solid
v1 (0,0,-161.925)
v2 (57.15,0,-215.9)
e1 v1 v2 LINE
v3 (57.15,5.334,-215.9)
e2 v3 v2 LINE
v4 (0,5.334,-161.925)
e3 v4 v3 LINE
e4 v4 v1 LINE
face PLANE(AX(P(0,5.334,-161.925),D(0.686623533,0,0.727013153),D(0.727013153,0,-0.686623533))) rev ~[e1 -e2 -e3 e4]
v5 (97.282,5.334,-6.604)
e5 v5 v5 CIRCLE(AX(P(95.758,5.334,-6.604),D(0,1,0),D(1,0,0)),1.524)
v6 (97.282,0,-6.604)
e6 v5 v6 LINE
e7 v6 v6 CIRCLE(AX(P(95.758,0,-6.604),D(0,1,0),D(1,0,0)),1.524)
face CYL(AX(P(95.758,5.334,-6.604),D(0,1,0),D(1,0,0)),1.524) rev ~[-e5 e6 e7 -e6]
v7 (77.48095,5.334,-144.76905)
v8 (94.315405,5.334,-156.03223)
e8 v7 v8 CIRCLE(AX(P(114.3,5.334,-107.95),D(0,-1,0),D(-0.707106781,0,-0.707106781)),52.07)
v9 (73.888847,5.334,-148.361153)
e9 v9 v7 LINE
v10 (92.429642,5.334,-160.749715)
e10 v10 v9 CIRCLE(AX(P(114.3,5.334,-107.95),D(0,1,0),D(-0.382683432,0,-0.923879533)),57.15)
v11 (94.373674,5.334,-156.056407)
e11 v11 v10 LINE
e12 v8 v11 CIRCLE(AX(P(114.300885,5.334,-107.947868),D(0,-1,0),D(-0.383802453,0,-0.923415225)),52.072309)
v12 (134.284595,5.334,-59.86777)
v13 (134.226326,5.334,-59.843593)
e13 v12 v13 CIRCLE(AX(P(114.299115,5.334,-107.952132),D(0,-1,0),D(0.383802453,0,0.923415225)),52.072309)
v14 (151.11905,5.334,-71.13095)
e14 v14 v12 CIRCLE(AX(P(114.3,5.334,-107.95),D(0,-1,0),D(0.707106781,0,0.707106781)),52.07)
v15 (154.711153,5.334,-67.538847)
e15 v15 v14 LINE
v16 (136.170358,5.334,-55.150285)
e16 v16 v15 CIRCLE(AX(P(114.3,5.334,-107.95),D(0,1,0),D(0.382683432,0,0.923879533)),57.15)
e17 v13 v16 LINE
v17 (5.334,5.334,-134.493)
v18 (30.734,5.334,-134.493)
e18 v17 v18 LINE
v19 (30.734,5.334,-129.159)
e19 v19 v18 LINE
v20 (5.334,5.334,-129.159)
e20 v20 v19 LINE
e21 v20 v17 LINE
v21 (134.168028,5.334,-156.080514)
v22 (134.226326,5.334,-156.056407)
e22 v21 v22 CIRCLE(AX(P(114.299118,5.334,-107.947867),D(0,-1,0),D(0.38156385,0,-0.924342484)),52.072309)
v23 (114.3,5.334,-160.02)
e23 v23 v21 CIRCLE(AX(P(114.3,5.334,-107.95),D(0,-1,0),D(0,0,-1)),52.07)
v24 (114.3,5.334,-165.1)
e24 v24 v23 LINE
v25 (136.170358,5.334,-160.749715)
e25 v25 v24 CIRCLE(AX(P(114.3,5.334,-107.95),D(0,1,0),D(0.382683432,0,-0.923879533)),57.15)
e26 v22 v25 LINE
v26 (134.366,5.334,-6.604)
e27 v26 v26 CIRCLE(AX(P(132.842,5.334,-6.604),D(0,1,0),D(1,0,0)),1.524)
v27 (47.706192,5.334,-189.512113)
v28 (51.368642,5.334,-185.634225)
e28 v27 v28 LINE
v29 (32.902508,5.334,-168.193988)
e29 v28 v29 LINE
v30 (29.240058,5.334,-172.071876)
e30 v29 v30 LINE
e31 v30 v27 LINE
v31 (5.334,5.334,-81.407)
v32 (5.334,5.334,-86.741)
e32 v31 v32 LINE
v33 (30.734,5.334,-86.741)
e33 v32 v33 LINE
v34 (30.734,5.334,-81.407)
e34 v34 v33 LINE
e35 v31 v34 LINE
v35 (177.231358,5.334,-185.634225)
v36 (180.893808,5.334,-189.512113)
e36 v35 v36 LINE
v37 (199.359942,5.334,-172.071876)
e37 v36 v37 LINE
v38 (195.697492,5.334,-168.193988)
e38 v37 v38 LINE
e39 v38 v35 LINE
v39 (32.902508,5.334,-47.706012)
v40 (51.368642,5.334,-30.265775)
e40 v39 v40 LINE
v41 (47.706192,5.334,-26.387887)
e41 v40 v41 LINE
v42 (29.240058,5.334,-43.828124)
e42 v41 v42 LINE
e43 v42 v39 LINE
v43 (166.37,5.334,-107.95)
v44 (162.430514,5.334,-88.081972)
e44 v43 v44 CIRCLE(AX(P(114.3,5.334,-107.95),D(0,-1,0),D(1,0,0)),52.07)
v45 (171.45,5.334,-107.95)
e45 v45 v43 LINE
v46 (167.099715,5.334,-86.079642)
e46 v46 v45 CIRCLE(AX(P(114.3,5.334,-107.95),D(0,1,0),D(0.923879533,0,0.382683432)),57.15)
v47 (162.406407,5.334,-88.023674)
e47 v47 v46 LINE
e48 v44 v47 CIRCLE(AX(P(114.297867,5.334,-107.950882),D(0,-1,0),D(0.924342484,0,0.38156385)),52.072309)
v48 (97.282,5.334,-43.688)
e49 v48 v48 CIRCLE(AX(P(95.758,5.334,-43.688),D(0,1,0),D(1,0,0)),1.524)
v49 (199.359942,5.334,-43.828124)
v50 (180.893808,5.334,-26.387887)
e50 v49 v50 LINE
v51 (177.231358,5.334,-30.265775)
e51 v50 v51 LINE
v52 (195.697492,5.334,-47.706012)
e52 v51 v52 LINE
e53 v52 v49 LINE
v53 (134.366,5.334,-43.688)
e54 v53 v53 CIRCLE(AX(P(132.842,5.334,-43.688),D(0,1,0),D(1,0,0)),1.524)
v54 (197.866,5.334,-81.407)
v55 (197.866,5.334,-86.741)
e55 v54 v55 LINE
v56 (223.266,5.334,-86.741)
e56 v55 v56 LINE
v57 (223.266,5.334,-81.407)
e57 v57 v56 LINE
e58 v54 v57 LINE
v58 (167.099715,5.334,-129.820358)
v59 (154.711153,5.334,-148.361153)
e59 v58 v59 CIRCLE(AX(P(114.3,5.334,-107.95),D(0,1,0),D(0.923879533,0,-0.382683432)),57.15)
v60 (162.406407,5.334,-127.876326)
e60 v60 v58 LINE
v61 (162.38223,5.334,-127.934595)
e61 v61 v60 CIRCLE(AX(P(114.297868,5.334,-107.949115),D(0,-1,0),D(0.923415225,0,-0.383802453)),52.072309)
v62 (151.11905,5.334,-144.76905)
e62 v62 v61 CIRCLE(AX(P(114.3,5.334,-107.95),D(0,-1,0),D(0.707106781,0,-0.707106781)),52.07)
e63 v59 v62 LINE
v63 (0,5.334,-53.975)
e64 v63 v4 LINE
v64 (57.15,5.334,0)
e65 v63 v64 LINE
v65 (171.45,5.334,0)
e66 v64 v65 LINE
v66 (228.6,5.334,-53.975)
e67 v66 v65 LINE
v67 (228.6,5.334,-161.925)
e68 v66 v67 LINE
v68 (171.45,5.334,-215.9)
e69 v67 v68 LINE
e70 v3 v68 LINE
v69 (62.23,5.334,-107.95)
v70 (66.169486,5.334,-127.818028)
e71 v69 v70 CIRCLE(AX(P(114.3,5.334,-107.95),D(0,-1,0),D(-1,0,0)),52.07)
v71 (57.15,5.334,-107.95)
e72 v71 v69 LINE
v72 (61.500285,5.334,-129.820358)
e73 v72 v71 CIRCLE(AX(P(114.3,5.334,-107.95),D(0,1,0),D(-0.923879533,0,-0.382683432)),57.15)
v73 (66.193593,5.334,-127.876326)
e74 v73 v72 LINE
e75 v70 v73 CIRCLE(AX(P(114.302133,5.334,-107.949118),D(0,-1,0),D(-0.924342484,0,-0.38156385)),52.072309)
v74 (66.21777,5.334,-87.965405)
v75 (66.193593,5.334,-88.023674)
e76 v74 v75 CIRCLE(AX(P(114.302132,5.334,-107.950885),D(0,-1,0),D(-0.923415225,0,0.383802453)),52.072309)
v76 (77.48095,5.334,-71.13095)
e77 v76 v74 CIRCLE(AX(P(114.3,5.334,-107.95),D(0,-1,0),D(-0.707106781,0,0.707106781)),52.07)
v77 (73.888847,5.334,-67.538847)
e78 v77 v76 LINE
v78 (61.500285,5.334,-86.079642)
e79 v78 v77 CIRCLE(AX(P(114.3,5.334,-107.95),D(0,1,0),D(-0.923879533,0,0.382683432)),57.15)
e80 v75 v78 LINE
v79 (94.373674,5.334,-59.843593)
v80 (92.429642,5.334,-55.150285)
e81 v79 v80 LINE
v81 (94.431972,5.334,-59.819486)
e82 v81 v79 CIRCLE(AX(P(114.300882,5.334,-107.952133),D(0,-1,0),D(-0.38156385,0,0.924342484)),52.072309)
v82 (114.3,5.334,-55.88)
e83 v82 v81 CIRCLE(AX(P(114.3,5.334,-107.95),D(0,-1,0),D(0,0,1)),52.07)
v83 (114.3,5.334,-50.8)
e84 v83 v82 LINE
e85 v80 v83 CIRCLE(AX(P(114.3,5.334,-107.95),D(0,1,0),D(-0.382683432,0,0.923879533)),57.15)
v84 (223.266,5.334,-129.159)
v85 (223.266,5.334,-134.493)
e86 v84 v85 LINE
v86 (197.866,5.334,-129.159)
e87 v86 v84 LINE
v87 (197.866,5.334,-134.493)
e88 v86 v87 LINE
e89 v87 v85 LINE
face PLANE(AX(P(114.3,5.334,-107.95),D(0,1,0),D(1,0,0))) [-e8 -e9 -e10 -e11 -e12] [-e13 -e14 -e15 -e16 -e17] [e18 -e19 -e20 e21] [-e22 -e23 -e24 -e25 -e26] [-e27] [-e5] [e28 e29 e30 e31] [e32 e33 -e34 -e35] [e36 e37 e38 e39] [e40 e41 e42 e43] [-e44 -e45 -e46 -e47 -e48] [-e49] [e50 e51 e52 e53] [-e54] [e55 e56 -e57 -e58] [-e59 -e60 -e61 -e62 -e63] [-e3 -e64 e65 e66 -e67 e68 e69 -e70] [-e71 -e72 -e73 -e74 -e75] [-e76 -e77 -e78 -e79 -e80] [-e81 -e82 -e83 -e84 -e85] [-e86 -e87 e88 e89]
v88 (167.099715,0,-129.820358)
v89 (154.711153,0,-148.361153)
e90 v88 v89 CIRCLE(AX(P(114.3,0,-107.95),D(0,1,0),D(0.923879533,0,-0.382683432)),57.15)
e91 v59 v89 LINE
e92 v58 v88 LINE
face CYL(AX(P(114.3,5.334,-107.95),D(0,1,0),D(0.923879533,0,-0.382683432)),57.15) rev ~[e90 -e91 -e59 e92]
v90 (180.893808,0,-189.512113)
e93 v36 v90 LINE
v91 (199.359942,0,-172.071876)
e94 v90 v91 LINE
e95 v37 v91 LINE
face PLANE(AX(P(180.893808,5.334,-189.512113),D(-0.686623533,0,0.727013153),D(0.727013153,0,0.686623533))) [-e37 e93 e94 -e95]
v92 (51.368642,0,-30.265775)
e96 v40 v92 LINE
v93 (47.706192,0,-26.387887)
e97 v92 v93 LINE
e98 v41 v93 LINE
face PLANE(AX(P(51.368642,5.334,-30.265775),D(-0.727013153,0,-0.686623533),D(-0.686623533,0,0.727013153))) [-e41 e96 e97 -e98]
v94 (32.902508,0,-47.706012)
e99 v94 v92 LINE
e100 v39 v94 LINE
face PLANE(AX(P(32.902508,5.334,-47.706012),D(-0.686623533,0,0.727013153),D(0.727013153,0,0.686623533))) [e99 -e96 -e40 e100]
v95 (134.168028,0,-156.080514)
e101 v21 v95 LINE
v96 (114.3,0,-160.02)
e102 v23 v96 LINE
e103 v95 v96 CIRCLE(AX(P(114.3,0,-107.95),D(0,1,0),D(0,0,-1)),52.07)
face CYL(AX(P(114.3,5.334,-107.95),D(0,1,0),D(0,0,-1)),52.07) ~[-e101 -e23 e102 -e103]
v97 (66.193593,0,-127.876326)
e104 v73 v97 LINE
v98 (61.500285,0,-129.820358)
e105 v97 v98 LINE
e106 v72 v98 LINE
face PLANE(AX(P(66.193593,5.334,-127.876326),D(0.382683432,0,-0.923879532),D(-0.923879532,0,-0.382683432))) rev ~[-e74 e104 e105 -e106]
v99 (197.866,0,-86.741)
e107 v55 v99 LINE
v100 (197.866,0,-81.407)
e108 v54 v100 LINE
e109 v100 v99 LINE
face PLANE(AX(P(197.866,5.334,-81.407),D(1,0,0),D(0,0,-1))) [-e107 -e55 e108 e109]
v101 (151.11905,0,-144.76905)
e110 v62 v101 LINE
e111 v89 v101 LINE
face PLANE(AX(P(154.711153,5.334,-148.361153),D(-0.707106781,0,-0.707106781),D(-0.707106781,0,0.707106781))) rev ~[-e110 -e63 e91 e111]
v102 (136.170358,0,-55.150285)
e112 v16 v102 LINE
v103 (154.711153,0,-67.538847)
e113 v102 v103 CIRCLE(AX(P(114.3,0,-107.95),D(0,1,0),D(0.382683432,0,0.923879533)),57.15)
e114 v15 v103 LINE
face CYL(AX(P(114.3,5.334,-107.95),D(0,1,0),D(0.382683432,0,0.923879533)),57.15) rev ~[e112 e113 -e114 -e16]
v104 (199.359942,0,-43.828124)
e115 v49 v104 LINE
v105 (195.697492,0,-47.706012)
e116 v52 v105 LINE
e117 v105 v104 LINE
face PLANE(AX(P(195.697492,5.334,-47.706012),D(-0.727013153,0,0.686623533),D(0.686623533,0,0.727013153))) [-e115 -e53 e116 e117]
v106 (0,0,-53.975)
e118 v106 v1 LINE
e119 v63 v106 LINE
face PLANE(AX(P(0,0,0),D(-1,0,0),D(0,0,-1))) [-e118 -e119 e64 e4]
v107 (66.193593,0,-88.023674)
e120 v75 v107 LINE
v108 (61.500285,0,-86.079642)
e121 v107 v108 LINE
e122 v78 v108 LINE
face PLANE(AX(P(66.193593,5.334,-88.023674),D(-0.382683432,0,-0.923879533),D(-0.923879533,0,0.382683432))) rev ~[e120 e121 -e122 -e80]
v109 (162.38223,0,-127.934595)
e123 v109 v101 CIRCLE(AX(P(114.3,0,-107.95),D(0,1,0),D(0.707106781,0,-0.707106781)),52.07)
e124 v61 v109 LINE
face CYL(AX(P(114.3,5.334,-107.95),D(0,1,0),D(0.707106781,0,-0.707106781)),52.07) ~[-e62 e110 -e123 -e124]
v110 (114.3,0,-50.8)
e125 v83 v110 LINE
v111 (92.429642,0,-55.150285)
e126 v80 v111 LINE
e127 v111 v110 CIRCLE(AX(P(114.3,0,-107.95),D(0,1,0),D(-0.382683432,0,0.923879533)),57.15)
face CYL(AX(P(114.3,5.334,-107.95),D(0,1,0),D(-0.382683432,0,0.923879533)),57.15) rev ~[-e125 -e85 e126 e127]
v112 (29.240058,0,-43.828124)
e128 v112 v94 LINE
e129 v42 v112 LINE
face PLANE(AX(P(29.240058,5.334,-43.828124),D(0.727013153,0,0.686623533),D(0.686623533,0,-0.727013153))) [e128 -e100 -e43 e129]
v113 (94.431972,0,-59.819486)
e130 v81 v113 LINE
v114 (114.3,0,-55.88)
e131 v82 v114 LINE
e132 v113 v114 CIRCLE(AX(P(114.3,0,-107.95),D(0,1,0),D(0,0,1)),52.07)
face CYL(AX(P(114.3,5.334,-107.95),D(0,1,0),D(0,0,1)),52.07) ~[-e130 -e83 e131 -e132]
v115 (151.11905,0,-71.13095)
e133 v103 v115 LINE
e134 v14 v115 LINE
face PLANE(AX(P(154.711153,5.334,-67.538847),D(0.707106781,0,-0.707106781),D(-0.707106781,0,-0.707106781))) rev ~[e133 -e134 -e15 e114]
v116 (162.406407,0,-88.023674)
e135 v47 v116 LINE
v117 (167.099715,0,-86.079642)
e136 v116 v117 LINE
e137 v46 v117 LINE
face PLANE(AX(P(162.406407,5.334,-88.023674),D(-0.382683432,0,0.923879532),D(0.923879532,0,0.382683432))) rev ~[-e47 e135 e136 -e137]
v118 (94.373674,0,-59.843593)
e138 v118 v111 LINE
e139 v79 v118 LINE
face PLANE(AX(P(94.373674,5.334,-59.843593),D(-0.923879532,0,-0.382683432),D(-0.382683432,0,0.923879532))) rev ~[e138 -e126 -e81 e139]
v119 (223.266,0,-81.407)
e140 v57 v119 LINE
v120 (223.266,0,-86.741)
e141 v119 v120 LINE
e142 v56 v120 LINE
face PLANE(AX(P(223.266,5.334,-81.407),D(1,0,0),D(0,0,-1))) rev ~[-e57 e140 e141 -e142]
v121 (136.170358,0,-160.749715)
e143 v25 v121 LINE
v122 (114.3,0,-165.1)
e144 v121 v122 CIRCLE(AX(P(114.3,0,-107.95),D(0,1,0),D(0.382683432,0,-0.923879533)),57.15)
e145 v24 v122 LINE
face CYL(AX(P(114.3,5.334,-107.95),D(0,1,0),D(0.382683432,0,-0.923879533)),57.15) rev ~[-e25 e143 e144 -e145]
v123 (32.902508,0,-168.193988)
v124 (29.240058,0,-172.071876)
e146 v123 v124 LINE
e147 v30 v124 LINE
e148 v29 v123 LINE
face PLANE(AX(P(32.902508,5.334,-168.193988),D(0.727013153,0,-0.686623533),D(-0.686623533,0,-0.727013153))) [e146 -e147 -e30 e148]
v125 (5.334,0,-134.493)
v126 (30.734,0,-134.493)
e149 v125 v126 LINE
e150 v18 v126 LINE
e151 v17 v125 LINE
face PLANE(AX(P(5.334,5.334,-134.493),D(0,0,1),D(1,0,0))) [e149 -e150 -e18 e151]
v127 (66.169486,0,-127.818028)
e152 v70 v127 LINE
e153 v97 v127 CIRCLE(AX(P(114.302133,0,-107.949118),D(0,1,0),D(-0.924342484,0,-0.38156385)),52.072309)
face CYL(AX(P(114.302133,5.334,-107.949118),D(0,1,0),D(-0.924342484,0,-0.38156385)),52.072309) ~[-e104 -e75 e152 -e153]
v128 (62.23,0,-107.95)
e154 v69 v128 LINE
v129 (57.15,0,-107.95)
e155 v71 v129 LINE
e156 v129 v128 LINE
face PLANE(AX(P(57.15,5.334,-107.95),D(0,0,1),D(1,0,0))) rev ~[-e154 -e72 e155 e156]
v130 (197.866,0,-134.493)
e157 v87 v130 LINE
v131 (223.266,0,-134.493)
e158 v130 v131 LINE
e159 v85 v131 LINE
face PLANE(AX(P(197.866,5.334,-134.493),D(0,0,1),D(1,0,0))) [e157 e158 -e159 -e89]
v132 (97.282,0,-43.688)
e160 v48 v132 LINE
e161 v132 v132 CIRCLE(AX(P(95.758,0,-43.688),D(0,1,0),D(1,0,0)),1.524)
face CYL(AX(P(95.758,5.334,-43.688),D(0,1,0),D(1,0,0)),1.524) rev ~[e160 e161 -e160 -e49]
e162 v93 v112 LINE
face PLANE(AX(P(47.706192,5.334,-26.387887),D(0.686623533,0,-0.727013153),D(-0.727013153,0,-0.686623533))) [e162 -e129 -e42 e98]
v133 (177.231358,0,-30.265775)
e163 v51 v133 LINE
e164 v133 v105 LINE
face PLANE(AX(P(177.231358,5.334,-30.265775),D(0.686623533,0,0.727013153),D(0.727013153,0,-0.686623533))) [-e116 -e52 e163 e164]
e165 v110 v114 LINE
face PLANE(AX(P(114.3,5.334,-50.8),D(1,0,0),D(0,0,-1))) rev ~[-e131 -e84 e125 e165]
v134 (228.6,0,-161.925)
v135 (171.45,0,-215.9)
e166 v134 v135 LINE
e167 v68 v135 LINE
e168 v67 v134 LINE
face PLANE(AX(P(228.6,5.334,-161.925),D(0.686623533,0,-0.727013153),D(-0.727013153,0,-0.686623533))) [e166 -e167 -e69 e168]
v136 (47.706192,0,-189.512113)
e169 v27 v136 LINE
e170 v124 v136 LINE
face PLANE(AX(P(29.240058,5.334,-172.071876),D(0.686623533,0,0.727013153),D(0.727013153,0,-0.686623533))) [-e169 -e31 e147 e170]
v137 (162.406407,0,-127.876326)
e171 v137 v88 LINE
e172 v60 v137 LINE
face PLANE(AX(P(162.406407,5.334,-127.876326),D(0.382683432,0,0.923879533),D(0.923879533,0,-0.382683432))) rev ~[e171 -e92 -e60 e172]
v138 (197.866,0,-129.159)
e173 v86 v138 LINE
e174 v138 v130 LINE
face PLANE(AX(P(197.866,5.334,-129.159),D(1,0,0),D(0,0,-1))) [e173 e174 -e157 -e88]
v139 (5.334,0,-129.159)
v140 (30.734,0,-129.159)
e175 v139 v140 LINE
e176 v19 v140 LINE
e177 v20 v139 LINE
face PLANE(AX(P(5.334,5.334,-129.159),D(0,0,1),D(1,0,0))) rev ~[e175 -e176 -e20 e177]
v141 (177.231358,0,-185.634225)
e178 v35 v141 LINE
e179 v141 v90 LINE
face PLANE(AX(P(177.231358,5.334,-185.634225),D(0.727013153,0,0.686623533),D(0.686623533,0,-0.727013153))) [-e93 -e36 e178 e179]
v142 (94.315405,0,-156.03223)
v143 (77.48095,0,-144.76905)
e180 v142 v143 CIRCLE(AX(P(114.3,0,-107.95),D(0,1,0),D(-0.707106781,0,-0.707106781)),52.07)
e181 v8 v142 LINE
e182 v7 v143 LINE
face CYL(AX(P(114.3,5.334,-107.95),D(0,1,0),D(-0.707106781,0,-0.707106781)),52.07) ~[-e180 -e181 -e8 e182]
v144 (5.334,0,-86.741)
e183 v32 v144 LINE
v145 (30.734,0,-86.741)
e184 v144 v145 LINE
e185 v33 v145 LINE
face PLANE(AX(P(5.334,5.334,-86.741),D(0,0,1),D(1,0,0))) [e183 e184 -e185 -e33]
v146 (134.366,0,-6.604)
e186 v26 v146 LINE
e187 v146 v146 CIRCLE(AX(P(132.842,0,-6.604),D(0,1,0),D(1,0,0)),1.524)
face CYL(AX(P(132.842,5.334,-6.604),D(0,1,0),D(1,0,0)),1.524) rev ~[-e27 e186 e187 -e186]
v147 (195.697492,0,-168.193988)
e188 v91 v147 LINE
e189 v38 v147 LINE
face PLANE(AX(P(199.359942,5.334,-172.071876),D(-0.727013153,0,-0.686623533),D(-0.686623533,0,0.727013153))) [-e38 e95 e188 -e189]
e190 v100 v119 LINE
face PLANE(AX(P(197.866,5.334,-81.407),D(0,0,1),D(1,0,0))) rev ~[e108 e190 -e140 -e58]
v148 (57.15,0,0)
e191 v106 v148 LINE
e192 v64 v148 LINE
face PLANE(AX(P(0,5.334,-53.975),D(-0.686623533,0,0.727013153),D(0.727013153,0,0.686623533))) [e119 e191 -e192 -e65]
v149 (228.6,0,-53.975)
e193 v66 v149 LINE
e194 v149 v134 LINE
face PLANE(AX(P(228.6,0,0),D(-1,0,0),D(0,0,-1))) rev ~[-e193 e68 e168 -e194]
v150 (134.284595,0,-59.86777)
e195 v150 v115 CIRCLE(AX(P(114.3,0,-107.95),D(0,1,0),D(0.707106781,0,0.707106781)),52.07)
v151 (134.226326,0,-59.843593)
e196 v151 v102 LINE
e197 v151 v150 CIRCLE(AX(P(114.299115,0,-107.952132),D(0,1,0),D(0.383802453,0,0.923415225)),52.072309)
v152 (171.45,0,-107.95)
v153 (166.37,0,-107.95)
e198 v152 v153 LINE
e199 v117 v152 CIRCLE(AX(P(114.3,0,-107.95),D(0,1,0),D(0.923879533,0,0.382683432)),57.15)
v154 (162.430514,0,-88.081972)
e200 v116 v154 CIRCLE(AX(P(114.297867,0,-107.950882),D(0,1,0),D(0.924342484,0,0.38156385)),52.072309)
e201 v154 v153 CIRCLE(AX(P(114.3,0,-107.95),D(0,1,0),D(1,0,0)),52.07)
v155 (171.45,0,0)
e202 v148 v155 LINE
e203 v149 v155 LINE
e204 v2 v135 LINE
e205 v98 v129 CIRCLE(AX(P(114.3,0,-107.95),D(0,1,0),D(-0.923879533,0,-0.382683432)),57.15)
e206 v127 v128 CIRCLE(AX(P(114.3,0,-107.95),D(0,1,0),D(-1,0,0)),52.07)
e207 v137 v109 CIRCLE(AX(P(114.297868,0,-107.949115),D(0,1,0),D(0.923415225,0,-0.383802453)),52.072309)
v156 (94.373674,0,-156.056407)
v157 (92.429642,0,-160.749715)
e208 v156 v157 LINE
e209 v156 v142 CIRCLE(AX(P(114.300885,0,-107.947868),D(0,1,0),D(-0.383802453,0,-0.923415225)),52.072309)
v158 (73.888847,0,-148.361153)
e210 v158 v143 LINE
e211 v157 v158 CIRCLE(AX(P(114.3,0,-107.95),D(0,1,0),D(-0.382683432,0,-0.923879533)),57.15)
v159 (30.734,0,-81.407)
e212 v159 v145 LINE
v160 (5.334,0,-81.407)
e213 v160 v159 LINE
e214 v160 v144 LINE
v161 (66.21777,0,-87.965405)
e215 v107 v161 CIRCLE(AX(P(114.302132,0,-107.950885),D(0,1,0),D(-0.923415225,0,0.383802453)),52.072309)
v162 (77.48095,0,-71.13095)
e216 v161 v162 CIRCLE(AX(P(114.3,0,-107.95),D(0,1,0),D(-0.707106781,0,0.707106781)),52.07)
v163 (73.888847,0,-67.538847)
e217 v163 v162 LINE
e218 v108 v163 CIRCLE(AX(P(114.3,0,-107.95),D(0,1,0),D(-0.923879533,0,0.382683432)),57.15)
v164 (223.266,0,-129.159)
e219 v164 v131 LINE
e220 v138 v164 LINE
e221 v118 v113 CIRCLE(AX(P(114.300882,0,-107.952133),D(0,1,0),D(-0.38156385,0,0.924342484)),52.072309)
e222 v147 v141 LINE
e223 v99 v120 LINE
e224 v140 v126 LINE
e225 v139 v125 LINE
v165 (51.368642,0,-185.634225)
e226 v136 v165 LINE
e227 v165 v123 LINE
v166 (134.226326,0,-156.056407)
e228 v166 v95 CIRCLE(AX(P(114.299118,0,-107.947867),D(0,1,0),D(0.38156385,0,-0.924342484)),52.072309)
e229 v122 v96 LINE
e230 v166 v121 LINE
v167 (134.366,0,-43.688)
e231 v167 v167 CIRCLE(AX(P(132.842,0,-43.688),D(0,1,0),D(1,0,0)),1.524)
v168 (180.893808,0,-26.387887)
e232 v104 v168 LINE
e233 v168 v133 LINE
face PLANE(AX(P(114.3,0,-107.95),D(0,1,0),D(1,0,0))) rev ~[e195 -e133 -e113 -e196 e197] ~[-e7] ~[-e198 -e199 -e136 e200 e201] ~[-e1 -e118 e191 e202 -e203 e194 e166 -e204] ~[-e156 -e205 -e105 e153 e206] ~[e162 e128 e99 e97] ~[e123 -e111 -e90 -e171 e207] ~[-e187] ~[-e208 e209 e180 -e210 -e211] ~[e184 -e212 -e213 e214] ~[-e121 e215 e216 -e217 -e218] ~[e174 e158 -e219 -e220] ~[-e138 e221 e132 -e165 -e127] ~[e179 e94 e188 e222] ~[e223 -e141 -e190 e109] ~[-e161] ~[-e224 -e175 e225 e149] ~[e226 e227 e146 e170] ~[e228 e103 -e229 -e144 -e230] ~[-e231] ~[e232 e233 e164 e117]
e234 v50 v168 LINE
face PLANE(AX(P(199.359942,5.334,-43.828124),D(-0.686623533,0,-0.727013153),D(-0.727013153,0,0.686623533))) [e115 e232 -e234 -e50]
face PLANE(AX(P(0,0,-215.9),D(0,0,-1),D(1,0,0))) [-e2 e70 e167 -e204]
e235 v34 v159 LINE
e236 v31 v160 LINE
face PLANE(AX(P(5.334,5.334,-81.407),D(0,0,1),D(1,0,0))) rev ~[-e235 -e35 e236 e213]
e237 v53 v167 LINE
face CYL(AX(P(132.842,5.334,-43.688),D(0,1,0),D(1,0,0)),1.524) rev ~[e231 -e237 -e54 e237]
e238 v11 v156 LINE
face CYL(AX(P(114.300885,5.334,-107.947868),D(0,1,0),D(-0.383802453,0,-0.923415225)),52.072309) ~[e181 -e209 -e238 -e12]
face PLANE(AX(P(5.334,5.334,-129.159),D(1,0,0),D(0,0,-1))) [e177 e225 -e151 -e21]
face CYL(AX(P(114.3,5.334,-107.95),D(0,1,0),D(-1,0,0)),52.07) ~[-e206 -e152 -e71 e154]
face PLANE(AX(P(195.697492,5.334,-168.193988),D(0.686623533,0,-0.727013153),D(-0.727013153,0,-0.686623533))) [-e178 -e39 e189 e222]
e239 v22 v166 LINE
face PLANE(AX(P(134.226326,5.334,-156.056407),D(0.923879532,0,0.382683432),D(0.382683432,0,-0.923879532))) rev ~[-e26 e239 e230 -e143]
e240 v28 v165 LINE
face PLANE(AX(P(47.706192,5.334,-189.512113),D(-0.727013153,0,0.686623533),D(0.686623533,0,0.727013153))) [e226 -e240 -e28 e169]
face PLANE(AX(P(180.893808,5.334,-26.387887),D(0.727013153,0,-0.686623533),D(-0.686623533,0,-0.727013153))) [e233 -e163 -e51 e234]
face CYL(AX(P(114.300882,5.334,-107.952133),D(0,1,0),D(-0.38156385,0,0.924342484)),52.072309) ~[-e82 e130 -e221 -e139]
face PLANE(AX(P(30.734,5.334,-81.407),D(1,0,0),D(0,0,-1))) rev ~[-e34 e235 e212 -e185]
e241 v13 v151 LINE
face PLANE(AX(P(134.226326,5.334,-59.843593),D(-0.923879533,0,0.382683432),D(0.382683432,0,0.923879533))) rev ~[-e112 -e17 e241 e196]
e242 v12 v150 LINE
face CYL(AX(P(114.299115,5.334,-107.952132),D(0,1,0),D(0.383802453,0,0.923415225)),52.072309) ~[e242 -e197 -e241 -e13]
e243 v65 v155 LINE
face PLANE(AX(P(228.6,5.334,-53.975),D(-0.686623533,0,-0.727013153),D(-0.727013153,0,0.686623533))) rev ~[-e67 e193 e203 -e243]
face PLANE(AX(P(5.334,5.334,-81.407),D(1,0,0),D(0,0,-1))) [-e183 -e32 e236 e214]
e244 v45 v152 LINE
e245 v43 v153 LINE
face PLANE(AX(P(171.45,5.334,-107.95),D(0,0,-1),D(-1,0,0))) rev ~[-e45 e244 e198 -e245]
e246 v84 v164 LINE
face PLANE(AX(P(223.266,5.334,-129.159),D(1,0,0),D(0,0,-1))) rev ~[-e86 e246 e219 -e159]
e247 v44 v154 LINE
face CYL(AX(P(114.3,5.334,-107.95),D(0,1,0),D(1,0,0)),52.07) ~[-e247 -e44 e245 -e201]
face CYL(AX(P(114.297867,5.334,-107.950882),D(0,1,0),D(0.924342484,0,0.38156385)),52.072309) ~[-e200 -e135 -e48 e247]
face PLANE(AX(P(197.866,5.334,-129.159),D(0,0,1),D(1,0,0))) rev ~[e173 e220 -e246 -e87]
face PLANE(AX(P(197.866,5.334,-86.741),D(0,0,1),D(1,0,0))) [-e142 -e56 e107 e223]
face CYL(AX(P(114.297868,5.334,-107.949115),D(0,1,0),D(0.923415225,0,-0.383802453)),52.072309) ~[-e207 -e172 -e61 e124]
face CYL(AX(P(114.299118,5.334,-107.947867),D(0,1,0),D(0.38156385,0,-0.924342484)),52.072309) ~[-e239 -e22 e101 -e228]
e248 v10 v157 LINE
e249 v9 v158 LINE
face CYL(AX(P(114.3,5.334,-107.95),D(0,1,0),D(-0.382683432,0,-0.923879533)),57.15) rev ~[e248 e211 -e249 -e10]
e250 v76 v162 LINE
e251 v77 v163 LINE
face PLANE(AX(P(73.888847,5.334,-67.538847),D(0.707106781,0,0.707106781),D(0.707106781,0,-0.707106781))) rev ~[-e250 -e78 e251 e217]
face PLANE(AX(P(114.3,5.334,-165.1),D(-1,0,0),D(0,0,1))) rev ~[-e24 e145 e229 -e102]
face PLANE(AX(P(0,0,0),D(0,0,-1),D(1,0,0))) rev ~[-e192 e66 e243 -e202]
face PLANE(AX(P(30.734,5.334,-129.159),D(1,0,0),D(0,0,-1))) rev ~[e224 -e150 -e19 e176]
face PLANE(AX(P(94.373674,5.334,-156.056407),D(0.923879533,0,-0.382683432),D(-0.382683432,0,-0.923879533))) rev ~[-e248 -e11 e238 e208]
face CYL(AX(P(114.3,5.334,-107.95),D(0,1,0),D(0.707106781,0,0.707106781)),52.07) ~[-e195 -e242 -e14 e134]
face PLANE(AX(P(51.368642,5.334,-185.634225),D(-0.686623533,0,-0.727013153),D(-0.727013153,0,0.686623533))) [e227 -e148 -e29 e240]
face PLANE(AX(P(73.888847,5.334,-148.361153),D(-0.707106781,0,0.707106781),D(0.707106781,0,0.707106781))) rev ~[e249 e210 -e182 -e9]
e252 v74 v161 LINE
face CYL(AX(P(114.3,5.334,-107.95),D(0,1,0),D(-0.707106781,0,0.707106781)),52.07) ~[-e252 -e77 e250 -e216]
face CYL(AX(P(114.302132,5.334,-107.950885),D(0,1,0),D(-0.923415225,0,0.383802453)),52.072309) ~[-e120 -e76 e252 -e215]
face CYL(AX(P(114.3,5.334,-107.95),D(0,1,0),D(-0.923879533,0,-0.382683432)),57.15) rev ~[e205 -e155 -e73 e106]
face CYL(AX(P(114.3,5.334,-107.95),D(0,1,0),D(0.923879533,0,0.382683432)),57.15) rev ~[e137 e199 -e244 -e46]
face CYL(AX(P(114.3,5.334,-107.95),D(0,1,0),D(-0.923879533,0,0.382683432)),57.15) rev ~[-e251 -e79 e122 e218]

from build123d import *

# Parameters (mm, degrees)
SKETCH1_W           = 228.6
SKETCH1_H           = 215.9
BOSS_EXTRUDE1_DEPTH = 5.334
SKETCH8_W           = 25.4
SKETCH8_H           = 5.334
CUT_EXTRUDE2_DEPTH  = 6.334
SKETCH11_R          = 1.524
CUT_EXTRUDE4_DEPTH  = 6.334
CUT_EXTRUDE5_DEPTH  = 6.334
CUT_EXTRUDE6_DEPTH  = 6.334
CIRPATTERN1_COUNT   = 8
CUT_EXTRUDE7_DEPTH  = 6.334


with BuildPart() as part:
    # Sketch1 → Boss-Extrude1 (new body)
    with BuildSketch(Plane(origin=(0, 0, 0), x_dir=(1, 0, 0), z_dir=(0, 1, 0))):
        with Locations((114.3, 107.95)):
            Rectangle(SKETCH1_W, SKETCH1_H)
    extrude(amount=BOSS_EXTRUDE1_DEPTH)

    # Sketch8 → Cut-Extrude2 (cut, through all)
    with BuildSketch(Plane(origin=(0, 5.334, 0), x_dir=(1, 0, 0), z_dir=(0, 1, 0))):
        with Locations((18.034, 131.826)):
            Rectangle(SKETCH8_W, SKETCH8_H)
        with Locations((210.566, 131.826)):
            Rectangle(SKETCH8_W, SKETCH8_H)
        with Locations((210.566, 84.074)):
            Rectangle(SKETCH8_W, SKETCH8_H)
        with Locations((18.034, 84.074)):
            Rectangle(SKETCH8_W, SKETCH8_H)
    extrude(amount=-CUT_EXTRUDE2_DEPTH, mode=Mode.SUBTRACT)

    # Sketch11 → Cut-Extrude4 (cut, through all)
    with BuildSketch(Plane(origin=(0, 5.334, 0), x_dir=(1, 0, 0), z_dir=(0, 1, 0))):
        with Locations((95.758, 6.604)):
            Circle(SKETCH11_R)
        with Locations((132.842, 6.604)):
            Circle(SKETCH11_R)
        with Locations((132.842, 43.688)):
            Circle(SKETCH11_R)
        with Locations((95.758, 43.688)):
            Circle(SKETCH11_R)
    extrude(amount=-CUT_EXTRUDE4_DEPTH, mode=Mode.SUBTRACT)

    # Sketch13 → Cut-Extrude5 (cut, through all)
    with BuildSketch(Plane(origin=(0, 5.334, 0), x_dir=(1, 0, 0), z_dir=(0, 1, 0))):
        Polygon((0, 215.9), (0, 161.925), (57.15, 215.9), align=None)
        Polygon((228.6, 161.925), (171.45, 215.9), (228.6, 215.9), align=None)
        Polygon((228.6, 0), (228.6, 53.975), (171.45, 0), align=None)
        Polygon((0, 53.975), (57.15, 0), (0, 0), align=None)
    extrude(amount=-CUT_EXTRUDE5_DEPTH, mode=Mode.SUBTRACT)

    # Sketch6 → Cut-Extrude6 (cut, through all)
    with BuildSketch(Plane(origin=(0, 5.334, 0), x_dir=(1, 0, 0), z_dir=(0, 1, 0))):
        with BuildLine():
            Line((114.3, 165.1), (114.3, 160.02))
            ThreePointArc((114.3, 160.02), (124.427414599, 159.025633853), (134.168028422, 156.080513675))
            ThreePointArc((134.168028422, 156.080513675), (134.197181023, 156.068469295), (134.226326323, 156.056407258))
            Line((134.226326323, 156.056407258), (136.17035816, 160.749715283))
            ThreePointArc((136.17035816, 160.749715283), (125.449411903, 164.001878775), (114.3, 165.1))
        make_face()
    cut_extrude6 = extrude(amount=-CUT_EXTRUDE6_DEPTH, mode=Mode.SUBTRACT)

    # CirPattern1: Cut-Extrude6 ×8 about axis
    cirpattern1_axis = Axis((114.3, 0, -107.95), (0, 1, 0))
    for i in range(1, CIRPATTERN1_COUNT):
        add(cut_extrude6.rotate(cirpattern1_axis, i * 360 / CIRPATTERN1_COUNT), mode=Mode.SUBTRACT)

    # Sketch16 → Cut-Extrude7 (cut, through all)
    with BuildSketch(Plane(origin=(0, 5.334, 0), x_dir=(1, 0, 0), z_dir=(0, 1, 0))):
        Polygon((180.893807675, 189.512113449), (199.35994175, 172.071875712), (195.697491825, 168.193987556), (177.23135775, 185.634225293), align=None)
        Polygon((47.706192325, 189.512113449), (51.36864225, 185.634225293), (32.902508175, 168.193987556), (29.24005825, 172.071875712), align=None)
        Polygon((47.706192325, 26.387886551), (29.24005825, 43.828124288), (32.902508175, 47.706012444), (51.36864225, 30.265774707), align=None)
        Polygon((180.893807675, 26.387886551), (177.23135775, 30.265774707), (195.697491825, 47.706012444), (199.35994175, 43.828124288), align=None)
    extrude(amount=-CUT_EXTRUDE7_DEPTH, mode=Mode.SUBTRACT)


solid = part.part
